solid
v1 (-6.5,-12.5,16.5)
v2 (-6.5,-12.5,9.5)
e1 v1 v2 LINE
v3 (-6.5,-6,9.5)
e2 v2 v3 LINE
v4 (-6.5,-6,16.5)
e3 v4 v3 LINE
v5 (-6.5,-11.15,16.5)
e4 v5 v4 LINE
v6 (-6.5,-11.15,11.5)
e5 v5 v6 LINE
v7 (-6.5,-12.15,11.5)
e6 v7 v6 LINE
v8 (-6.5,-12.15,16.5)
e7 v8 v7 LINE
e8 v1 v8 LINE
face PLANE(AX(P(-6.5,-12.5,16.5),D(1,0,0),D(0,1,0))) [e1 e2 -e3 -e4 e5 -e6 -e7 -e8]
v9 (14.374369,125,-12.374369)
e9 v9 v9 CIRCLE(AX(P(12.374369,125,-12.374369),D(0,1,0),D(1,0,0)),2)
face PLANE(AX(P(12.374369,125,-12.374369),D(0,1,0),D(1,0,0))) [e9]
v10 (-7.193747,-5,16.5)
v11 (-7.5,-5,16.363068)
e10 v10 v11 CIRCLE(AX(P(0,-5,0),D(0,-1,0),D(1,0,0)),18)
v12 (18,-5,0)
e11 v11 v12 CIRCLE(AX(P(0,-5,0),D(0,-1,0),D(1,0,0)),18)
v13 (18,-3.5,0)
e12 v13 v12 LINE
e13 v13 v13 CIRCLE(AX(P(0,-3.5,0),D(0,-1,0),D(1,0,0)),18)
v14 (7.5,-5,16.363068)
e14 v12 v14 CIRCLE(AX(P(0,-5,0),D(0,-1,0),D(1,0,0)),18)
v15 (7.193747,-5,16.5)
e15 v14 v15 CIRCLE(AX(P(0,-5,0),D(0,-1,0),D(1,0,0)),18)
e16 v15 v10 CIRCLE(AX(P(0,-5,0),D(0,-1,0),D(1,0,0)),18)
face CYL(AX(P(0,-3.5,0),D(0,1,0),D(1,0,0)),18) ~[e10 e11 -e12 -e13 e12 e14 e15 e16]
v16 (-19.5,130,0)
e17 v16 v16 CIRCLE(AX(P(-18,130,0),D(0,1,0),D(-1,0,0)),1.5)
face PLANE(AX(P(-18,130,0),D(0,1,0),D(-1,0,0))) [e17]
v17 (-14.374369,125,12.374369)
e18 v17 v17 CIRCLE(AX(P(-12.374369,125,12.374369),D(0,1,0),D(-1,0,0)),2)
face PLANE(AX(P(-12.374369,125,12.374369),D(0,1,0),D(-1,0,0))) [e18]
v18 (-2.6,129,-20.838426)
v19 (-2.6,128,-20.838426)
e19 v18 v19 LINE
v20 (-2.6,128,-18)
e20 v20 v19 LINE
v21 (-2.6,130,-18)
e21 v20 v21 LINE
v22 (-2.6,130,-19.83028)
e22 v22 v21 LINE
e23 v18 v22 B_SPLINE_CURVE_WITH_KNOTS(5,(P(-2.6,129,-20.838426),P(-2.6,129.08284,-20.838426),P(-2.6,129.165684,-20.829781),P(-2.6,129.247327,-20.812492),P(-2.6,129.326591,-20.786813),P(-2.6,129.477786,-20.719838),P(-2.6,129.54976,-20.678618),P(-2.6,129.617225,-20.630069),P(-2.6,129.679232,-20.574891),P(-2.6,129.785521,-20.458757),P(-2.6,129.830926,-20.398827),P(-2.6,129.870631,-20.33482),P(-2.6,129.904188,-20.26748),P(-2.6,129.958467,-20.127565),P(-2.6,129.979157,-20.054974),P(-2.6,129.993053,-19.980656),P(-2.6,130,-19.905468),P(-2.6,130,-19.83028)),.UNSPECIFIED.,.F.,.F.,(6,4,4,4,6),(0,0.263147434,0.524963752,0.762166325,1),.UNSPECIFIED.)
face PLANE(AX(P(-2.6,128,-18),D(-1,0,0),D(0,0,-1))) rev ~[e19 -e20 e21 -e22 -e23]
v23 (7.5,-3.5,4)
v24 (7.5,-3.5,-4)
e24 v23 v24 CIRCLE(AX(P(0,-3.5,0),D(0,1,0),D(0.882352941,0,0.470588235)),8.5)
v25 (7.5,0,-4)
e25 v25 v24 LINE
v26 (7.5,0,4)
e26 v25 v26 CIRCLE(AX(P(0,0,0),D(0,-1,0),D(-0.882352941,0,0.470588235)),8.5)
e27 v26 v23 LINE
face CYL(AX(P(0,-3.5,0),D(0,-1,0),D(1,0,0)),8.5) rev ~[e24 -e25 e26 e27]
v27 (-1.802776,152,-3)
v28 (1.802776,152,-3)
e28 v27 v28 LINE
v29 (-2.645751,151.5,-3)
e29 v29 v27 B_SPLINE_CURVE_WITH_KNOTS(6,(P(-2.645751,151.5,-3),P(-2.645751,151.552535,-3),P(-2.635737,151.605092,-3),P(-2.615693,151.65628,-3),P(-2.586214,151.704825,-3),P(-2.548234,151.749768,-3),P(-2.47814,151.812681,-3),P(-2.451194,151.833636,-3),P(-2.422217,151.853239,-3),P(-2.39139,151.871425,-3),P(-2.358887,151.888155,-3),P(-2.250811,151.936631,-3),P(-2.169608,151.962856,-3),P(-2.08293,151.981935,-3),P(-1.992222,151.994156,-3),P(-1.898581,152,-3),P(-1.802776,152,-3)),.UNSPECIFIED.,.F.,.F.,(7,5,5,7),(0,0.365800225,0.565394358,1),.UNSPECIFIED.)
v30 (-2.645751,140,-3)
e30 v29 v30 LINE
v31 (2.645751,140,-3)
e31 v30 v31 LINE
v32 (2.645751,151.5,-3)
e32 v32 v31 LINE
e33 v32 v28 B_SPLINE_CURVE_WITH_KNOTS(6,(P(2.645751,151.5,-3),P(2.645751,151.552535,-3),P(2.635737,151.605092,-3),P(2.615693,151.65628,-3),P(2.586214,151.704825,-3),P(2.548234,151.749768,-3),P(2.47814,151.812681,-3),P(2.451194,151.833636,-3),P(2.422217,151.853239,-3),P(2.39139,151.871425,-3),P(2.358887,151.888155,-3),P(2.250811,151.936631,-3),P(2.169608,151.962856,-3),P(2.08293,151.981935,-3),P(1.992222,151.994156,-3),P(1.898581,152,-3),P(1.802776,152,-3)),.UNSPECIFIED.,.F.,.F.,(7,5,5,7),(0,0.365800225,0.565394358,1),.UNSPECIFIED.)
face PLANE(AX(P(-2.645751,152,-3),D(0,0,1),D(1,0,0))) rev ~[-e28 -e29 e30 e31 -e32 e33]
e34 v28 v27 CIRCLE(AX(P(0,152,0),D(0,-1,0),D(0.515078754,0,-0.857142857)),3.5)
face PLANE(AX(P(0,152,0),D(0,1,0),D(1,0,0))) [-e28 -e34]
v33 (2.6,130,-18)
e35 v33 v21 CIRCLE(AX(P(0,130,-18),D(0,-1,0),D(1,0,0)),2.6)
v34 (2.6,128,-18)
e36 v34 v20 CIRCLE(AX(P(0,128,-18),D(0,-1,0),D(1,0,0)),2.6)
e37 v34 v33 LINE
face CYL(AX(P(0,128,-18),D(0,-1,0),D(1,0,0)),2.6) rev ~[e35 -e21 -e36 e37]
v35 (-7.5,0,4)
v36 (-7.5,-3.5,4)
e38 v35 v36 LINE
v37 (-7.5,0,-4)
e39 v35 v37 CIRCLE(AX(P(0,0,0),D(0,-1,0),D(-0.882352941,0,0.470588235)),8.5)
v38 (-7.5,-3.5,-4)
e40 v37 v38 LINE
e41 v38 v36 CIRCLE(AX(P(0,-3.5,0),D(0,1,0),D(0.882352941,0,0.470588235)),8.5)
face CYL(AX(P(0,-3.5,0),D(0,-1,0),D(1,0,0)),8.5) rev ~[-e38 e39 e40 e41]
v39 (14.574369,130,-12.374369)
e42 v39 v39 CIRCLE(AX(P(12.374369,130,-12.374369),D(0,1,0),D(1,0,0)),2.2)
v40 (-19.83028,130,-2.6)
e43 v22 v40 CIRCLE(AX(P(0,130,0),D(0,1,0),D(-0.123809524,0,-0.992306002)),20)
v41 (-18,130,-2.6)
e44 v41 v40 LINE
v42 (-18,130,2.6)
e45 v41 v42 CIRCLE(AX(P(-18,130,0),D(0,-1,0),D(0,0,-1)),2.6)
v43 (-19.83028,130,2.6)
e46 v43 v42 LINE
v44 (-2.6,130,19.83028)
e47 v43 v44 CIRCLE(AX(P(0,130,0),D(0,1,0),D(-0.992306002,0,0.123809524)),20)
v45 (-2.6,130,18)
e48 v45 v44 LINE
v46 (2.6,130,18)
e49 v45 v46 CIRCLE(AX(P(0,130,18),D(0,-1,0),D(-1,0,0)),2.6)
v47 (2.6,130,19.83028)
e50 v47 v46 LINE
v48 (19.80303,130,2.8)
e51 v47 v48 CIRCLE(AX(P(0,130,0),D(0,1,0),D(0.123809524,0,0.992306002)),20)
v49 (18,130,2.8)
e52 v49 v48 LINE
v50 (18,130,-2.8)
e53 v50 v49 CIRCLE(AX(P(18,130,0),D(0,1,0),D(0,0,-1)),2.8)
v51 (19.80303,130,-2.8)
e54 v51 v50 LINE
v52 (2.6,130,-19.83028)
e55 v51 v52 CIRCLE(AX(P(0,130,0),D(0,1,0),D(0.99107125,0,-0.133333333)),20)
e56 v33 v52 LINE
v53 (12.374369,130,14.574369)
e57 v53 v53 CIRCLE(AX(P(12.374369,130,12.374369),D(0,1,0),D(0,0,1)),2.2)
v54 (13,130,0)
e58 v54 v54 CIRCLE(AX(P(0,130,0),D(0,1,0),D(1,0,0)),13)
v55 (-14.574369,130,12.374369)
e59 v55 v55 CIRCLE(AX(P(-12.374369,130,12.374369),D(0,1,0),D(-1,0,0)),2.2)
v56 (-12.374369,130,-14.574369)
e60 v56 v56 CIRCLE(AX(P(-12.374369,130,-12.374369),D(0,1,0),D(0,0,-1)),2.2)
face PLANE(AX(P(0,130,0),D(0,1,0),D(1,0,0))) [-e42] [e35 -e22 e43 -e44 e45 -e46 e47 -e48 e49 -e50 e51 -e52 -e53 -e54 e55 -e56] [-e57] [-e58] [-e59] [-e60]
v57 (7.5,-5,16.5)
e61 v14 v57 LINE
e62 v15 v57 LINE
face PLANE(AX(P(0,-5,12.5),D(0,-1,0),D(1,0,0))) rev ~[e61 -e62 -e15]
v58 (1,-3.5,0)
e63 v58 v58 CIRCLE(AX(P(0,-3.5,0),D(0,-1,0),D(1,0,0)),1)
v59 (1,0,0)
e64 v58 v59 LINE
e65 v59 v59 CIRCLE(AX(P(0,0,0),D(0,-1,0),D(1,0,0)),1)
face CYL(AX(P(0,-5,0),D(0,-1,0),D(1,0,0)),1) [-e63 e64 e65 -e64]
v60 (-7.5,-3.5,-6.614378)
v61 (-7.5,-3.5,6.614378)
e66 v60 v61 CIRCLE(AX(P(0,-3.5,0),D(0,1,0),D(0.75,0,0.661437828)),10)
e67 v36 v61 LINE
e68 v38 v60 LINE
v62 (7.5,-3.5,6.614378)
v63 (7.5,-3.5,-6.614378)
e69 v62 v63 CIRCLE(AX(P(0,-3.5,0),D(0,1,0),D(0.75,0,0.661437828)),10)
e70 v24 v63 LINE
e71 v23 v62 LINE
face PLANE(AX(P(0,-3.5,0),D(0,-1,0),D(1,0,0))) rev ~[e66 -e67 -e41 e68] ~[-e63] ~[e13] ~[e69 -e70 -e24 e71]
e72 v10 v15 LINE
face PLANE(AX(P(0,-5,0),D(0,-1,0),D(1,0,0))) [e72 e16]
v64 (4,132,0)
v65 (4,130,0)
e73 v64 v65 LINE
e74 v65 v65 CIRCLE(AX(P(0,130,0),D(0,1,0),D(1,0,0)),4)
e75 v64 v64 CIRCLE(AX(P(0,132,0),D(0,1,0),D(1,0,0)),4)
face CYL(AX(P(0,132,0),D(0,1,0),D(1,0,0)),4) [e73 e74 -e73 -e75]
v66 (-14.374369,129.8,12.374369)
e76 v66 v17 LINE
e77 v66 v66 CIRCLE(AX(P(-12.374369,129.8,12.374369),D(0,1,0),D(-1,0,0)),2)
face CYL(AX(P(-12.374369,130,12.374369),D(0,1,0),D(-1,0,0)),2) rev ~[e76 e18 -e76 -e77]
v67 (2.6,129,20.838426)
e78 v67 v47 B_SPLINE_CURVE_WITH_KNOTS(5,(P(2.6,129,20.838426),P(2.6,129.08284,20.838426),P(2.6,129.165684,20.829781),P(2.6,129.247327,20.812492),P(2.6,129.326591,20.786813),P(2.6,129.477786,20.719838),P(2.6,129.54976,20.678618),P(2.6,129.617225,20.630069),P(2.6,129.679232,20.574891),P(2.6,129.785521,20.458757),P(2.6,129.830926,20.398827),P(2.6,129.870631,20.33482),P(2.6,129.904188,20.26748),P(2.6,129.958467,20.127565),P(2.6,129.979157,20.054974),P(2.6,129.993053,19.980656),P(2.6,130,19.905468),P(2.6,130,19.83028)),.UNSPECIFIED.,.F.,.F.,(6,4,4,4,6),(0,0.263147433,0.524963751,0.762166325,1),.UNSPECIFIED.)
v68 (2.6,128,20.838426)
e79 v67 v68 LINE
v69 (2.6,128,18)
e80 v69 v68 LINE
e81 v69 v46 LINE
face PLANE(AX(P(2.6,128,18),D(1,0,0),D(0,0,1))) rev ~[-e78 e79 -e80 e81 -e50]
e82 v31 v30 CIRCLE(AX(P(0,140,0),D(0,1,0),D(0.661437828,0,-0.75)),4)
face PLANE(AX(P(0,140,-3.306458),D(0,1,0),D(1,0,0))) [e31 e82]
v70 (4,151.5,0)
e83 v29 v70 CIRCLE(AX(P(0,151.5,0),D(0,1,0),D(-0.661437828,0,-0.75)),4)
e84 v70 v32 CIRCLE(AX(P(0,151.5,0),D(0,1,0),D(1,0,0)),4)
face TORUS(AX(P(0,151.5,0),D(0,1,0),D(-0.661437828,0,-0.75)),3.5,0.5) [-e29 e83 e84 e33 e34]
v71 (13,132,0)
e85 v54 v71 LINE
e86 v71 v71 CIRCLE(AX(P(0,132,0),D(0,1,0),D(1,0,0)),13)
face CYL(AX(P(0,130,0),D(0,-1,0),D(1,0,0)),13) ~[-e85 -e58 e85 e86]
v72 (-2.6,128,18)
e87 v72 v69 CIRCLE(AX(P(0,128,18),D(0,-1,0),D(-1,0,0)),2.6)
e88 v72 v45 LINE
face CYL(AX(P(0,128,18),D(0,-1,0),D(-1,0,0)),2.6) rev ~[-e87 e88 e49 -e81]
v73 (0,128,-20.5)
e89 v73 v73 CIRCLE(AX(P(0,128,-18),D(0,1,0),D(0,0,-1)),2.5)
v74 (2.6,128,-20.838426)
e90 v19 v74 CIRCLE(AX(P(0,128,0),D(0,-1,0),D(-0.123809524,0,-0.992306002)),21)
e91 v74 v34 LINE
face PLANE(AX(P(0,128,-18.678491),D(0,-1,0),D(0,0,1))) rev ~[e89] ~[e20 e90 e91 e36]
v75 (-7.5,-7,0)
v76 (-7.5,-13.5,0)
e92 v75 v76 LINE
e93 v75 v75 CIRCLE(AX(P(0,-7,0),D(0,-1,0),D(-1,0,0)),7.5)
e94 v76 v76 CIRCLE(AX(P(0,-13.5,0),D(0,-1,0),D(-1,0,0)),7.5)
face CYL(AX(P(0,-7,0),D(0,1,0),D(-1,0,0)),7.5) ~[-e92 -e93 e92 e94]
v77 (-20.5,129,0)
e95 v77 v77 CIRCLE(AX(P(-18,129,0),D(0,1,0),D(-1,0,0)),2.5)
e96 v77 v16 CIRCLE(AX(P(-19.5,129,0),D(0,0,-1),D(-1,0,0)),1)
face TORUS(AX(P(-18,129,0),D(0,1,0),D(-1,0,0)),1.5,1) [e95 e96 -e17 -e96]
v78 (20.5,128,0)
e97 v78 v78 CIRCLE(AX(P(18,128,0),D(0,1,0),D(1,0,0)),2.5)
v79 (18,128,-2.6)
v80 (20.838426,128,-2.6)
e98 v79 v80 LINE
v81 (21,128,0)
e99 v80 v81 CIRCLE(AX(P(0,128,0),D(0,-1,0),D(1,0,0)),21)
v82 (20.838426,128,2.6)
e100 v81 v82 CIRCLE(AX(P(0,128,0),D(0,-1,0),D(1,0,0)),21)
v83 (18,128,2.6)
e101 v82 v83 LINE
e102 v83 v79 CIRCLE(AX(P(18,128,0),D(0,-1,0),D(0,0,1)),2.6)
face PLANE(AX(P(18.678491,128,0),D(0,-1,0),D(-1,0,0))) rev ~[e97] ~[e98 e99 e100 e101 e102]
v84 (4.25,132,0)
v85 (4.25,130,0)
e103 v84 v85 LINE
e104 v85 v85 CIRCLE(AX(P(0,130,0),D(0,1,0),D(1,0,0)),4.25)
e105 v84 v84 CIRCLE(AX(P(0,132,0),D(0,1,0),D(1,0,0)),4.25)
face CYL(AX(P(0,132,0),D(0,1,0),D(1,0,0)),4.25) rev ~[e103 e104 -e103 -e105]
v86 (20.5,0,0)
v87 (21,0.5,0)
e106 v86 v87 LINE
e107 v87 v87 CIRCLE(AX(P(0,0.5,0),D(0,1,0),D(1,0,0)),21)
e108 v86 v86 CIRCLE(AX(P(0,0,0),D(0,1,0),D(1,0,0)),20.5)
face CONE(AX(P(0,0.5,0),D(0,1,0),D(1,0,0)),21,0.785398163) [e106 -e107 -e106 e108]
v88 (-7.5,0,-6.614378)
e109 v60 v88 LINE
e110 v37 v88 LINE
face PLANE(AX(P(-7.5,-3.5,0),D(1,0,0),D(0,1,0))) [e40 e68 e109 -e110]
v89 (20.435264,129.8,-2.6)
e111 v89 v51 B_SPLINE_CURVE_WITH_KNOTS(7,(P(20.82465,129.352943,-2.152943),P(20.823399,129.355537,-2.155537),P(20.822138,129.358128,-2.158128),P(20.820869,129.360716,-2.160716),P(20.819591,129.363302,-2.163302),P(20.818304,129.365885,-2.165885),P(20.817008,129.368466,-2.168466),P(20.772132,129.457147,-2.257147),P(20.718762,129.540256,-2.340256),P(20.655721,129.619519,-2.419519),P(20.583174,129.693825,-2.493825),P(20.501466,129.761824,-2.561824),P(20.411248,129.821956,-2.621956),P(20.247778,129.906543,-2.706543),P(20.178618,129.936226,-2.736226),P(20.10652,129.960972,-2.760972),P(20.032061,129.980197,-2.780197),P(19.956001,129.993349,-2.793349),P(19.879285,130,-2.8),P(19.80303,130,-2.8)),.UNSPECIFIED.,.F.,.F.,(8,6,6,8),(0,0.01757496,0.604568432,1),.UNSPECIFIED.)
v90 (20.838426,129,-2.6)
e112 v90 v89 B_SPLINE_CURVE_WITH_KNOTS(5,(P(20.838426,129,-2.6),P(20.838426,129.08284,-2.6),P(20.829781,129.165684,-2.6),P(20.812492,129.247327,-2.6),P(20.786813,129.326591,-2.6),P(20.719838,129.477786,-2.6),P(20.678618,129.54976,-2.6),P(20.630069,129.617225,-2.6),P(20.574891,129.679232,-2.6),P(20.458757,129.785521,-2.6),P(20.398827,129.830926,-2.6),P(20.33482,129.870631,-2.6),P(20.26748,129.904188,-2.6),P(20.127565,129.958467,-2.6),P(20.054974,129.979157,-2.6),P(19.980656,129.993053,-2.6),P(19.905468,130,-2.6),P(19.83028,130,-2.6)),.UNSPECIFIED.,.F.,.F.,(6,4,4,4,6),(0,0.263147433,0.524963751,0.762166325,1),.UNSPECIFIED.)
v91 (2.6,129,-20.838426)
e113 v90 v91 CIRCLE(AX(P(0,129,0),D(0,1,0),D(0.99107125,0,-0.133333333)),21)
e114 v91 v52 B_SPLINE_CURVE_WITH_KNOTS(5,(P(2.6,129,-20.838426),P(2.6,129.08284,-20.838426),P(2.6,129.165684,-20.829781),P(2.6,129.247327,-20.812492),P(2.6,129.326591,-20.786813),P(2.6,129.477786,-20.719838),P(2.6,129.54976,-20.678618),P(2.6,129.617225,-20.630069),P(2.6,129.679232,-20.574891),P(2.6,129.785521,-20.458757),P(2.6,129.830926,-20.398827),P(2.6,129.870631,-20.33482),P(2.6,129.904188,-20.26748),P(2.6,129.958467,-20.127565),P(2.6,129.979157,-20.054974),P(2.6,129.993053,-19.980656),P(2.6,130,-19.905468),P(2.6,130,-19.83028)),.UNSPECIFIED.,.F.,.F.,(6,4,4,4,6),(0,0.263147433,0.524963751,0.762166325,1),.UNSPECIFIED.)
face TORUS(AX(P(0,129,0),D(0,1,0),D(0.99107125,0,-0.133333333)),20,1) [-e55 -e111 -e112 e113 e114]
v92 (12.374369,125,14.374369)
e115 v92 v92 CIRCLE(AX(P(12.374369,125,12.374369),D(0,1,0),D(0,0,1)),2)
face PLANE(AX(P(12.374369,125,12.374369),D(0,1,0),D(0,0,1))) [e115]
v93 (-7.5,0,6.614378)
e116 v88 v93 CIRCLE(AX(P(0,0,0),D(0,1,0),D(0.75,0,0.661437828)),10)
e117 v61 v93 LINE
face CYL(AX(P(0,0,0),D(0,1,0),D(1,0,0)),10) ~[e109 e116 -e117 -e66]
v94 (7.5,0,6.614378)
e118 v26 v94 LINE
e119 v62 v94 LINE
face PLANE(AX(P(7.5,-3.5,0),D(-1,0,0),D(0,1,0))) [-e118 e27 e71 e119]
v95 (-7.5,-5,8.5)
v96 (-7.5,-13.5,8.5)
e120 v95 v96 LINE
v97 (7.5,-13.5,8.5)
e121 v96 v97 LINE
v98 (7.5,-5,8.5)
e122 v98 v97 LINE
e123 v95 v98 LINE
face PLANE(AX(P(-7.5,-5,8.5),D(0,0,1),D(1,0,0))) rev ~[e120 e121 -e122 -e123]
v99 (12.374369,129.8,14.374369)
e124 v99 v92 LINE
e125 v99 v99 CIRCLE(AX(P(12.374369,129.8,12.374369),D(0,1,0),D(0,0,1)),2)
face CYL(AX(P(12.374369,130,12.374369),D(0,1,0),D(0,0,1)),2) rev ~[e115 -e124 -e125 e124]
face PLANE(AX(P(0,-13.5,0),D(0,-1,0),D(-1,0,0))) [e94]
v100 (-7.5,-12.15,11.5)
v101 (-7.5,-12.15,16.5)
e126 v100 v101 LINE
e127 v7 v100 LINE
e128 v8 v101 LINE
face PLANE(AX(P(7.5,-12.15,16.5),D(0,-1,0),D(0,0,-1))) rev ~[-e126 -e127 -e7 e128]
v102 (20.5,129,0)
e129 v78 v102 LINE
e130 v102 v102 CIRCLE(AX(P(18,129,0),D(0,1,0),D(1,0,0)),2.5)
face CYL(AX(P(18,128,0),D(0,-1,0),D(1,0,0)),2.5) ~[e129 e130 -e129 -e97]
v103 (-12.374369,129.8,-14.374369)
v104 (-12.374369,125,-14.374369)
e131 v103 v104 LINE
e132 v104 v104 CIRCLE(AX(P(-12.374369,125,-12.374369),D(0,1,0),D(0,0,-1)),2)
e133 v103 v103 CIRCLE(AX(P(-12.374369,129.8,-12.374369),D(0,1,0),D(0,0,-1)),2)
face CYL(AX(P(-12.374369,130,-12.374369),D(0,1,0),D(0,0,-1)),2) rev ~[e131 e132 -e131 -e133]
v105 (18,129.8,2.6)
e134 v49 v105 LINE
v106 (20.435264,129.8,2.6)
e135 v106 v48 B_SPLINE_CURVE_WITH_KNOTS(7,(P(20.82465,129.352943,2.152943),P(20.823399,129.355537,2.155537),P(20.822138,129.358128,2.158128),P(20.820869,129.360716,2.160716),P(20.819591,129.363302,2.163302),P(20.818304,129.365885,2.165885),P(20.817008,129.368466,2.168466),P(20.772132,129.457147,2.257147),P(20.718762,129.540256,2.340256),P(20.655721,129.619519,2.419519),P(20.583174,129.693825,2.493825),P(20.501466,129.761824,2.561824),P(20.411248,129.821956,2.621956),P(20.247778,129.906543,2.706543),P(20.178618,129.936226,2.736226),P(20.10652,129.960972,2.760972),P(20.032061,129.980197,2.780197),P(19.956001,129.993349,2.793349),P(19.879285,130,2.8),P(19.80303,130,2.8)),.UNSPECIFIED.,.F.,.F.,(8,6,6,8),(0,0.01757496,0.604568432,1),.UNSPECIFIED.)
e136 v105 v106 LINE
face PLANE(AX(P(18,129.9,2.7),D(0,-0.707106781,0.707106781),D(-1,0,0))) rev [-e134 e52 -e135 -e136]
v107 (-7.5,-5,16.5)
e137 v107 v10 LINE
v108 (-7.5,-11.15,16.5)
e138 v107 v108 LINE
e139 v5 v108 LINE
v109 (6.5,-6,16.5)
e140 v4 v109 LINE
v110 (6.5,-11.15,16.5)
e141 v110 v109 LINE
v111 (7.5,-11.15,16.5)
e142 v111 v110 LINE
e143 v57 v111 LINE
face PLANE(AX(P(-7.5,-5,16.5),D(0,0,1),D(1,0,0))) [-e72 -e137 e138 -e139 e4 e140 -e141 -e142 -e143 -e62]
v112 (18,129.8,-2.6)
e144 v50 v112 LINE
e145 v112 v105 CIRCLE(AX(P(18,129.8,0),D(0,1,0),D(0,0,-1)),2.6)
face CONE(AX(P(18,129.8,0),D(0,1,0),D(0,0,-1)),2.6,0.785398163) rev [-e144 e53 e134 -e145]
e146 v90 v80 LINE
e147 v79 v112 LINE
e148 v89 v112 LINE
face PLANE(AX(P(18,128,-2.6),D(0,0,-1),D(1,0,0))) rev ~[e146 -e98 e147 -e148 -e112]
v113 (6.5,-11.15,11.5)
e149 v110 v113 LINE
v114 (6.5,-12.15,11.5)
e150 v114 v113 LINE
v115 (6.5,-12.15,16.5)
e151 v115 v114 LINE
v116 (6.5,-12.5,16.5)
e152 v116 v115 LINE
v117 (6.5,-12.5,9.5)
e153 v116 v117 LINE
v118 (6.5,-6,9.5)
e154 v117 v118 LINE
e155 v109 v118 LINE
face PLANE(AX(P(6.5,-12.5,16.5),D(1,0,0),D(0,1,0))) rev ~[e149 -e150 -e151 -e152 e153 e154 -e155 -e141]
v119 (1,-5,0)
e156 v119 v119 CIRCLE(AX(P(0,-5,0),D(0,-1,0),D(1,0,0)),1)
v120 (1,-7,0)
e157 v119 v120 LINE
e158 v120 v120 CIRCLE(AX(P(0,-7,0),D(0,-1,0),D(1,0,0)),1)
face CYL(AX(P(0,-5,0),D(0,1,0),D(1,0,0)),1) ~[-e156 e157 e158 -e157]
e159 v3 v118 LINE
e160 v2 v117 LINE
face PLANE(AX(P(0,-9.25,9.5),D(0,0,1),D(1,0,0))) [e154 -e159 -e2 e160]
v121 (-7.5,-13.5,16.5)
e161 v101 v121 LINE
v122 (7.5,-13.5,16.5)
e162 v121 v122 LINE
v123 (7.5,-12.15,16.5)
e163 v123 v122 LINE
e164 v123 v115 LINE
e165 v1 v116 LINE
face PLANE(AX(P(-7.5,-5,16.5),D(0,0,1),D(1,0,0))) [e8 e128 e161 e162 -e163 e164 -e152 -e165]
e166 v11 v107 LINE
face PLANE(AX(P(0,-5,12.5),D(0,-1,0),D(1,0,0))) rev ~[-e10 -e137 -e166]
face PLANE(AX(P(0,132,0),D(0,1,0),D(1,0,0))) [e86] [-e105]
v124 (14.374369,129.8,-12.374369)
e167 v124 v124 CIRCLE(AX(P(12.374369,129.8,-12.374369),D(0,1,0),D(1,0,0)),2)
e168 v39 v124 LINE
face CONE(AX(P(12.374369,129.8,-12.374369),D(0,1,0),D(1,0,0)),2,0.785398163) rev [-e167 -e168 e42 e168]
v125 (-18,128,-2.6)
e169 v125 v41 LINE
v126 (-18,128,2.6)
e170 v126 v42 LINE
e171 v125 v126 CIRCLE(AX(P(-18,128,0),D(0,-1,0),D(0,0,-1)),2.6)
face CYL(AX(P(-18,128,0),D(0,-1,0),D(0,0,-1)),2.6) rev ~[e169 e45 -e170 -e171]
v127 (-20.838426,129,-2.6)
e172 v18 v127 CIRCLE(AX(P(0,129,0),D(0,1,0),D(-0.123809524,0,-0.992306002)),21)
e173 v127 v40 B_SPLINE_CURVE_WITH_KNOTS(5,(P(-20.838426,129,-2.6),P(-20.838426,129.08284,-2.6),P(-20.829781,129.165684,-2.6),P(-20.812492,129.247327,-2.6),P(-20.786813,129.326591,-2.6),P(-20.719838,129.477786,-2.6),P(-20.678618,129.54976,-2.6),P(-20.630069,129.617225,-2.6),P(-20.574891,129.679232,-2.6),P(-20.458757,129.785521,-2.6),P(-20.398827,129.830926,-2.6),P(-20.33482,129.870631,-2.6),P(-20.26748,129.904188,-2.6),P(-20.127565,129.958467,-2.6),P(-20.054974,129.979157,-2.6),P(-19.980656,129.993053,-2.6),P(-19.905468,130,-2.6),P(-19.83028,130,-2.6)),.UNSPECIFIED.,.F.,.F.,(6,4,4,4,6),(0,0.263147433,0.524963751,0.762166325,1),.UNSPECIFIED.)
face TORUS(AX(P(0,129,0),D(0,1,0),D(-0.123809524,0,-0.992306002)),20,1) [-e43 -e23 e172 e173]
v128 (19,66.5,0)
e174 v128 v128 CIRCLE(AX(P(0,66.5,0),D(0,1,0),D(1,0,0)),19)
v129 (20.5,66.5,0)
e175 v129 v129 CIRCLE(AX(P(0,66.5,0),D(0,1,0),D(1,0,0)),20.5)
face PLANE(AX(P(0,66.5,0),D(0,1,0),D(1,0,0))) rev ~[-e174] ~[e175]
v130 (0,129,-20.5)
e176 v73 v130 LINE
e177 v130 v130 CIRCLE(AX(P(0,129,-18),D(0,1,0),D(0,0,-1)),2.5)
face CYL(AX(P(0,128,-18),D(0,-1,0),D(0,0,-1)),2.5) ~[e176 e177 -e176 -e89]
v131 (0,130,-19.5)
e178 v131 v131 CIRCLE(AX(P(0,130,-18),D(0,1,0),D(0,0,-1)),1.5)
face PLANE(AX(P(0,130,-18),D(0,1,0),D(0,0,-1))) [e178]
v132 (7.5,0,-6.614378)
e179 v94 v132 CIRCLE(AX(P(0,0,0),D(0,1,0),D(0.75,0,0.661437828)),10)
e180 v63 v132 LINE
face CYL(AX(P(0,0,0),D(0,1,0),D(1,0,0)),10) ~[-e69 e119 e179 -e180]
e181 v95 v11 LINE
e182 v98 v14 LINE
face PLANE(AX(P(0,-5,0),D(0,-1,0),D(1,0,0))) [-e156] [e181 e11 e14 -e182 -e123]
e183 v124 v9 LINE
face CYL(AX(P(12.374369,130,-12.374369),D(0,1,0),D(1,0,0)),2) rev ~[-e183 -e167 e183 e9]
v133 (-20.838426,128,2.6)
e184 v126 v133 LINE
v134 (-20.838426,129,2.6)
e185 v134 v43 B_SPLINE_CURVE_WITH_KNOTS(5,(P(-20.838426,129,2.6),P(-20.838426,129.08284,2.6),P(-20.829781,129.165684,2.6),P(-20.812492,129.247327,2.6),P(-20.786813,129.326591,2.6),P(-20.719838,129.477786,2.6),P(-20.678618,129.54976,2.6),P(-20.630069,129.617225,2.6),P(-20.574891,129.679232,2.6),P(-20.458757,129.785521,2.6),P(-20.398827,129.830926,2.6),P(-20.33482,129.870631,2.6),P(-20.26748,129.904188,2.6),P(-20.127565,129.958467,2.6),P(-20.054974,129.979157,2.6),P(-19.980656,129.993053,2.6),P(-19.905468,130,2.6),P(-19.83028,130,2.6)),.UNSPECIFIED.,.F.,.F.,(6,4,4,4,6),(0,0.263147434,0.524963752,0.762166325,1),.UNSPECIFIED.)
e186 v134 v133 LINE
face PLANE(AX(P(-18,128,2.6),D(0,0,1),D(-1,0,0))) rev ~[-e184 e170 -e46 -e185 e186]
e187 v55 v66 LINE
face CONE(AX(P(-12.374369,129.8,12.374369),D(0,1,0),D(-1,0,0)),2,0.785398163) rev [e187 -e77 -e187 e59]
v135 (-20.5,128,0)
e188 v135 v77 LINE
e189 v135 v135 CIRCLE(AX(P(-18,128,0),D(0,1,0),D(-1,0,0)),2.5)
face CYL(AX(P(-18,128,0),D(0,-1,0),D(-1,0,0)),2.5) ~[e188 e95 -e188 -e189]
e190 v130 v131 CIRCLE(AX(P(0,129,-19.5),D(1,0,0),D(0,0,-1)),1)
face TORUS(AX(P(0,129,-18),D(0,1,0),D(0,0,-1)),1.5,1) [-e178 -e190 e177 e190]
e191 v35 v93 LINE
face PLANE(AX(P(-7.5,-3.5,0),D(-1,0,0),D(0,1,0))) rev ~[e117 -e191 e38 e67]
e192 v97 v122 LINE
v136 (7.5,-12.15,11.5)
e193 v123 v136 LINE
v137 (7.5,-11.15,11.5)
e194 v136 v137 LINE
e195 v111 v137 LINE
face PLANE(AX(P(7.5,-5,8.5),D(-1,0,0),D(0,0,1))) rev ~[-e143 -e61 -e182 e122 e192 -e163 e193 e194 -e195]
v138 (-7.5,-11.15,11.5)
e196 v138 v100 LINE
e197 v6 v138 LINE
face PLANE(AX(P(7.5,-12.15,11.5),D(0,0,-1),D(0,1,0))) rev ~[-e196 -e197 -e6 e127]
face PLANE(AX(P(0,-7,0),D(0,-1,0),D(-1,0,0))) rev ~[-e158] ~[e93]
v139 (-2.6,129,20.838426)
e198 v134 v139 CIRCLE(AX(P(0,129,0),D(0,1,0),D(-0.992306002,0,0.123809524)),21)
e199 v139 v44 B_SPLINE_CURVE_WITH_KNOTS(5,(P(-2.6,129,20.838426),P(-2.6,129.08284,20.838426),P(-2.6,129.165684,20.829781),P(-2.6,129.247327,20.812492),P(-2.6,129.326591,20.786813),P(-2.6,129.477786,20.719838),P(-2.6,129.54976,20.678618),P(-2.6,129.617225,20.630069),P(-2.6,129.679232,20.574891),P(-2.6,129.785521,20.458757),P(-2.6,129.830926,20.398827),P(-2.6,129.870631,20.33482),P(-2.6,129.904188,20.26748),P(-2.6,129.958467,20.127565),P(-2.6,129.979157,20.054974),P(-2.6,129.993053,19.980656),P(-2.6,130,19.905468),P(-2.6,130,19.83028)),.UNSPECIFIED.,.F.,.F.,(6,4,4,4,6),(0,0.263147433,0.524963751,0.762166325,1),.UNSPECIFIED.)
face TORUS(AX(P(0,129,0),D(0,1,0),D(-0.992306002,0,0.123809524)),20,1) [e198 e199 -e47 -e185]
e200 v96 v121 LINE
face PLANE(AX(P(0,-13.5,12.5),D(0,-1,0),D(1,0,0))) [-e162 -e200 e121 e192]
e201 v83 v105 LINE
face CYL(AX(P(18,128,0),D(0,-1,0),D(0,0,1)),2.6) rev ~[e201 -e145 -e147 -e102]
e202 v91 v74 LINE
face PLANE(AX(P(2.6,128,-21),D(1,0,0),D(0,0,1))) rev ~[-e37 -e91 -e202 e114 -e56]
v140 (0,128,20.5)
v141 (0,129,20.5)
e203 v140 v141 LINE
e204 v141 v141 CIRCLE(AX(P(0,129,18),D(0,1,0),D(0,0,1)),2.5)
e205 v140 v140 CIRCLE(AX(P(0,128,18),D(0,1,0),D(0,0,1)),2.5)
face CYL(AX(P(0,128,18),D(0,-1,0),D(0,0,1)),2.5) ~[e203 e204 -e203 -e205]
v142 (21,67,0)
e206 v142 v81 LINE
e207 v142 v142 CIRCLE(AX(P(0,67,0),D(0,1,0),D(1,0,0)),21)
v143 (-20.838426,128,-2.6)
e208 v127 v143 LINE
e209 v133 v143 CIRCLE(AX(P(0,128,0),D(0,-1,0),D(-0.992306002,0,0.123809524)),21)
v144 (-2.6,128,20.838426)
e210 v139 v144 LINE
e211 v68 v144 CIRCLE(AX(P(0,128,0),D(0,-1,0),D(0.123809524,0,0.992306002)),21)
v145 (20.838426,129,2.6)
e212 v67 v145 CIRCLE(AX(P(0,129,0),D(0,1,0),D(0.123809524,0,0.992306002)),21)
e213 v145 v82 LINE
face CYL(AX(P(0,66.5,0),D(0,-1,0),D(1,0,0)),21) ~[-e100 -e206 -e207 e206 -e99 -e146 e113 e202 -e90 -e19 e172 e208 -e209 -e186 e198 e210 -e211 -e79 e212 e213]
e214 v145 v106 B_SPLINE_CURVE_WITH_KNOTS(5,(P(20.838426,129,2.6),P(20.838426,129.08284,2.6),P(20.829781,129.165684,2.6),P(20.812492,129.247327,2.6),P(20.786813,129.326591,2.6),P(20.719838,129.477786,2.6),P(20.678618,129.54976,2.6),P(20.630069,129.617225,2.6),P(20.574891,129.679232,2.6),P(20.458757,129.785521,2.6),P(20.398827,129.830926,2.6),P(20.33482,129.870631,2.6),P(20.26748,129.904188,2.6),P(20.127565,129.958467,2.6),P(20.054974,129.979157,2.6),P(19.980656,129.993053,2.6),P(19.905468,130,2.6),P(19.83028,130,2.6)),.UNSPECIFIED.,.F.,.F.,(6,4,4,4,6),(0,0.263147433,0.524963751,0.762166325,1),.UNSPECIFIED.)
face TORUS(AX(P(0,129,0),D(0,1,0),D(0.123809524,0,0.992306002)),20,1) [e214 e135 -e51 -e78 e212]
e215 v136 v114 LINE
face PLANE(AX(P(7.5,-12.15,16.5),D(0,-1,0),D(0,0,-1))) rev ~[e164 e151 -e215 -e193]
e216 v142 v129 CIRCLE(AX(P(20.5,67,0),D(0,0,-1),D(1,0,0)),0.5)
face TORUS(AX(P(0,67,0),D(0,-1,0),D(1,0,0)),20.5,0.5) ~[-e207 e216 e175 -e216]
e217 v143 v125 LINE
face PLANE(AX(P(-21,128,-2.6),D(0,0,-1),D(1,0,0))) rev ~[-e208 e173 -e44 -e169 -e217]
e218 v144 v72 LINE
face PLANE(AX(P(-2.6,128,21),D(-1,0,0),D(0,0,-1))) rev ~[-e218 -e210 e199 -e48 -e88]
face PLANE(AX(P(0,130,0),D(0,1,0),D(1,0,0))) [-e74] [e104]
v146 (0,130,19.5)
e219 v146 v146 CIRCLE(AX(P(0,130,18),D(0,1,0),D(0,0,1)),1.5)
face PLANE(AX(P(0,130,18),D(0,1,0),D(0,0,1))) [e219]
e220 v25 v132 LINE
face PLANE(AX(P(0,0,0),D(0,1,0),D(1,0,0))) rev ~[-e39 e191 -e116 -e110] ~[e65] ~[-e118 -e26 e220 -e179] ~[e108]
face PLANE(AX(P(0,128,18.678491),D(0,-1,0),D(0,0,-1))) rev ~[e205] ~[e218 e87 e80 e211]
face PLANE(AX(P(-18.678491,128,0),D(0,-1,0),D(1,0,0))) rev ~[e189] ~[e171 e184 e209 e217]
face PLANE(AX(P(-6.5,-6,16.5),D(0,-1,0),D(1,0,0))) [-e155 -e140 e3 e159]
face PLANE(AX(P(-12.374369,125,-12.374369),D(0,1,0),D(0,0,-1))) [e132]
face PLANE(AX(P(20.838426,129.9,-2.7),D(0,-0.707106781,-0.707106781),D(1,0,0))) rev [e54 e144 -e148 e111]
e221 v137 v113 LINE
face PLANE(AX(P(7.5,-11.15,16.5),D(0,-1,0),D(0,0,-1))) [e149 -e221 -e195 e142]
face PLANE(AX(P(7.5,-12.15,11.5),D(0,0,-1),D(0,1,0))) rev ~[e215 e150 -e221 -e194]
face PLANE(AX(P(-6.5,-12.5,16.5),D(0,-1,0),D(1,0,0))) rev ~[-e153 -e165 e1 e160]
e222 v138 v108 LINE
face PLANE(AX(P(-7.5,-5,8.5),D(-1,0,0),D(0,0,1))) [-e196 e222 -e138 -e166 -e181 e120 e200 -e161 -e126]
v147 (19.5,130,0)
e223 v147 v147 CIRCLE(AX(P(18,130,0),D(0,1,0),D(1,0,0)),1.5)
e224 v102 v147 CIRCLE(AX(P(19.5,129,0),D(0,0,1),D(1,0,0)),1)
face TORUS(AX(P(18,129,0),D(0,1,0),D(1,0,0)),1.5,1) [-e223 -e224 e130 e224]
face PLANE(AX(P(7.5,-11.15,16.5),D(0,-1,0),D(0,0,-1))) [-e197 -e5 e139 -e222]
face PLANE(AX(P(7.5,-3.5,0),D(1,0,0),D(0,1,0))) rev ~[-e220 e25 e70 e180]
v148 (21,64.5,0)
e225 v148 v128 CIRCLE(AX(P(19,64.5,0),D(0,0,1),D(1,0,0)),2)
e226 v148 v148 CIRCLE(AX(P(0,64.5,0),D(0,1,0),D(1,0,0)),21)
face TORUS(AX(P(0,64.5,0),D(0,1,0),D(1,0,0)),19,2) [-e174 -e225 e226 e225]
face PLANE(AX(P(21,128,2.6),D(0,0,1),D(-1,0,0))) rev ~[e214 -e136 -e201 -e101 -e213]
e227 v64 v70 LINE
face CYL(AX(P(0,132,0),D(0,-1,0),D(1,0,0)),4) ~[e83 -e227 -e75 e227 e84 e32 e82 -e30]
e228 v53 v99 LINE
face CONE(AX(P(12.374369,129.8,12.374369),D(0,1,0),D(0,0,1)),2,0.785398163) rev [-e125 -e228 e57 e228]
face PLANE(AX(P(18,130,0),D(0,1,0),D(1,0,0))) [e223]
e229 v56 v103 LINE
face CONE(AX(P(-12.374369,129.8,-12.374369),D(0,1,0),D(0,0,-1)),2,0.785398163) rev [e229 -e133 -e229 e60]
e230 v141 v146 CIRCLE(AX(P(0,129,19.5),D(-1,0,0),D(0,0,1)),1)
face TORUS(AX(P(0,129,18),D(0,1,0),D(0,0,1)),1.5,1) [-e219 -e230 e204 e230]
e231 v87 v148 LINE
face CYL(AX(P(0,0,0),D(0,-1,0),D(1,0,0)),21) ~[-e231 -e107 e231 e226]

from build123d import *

# Parameters (mm, degrees)
SKETCH_1_R                           = 21
EXTRUDE_1_DEPTH                      = 66.5
FILLET_1_R                           = 2
SKETCH_4_R                           = 21
EXTRUDE_2_DEPTH                      = 63.5
SKETCH_6_R                           = 13
EXTRUDE_3_DEPTH                      = 2
SKETCH_7_R                           = 4
EXTRUDE_4_DEPTH                      = 20
CUT_EXTRUDE_3_DEPTH                  = 12
FILLET_2_R                           = 0.5
FILLET_4_R                           = 0.5
CUT_EXTRUDE_START                    = -2
CUT_EXTRUDE_4_DEPTH                  = 25.0000001
CHAMFER_1_SIZE                       = 0.2
SKETCH_11_R                          = 2.5
EXTRUDE_5_DEPTH                      = 2
FILLET_5_R                           = 1
SKETCH_10_R                          = 2
CUT_EXTRUDE_5_DEPTH                  = 5
CHAMFER_2_SIZE                       = 0.2
PATTERN_CIRCULAR_3_COUNT             = 4
FILLET_5_OF_PATTERN_CIRCULAR_3_R     = 1
CHAMFER_2_OF_PATTERN_CIRCULAR_3_SIZE = 0.2
SKETCH_13_R                          = 10
EXTRUDE_6_DEPTH                      = 3.5
SKETCH_14_R                          = 8.5
CUT_EXTRUDE_7_DEPTH                  = 3.5
SKETCH_15_W                          = 15
SKETCH_15_H                          = 3.5
CUT_EXTRUDE_8_DEPTH                  = 22.0000001
CUT_EXTRUDE_8_DEPTH_BACK             = 22.0000001
EXTRUDE_START                        = 3.5
SKETCH_16_R                          = 18
EXTRUDE_7_DEPTH                      = 1.5
SKETCH_17_R                          = 1
EXTRUDE_8_DEPTH                      = 2
EXTRUDE_8_DEPTH_BACK                 = 5
SKETCH_18_R                          = 7.5
EXTRUDE_9_DEPTH                      = 6.5
SKETCH_19_R                          = 4.25
SKETCH_19_R_2                        = 4
CUT_EXTRUDE_9_DEPTH                  = 2
CHAMFER_4_SIZE                       = 0.5
SKETCH_20_W                          = 15
SKETCH_20_H                          = 8
EXTRUDE_10_DEPTH                     = 8.5
SKETCH_21_W                          = 13
SKETCH_21_H                          = 6.5
CUT_EXTRUDE_10_DEPTH                 = 7
SKETCH_22_W                          = 5
SKETCH_22_H                          = 1
CUT_EXTRUDE_11_DEPTH                 = 29.5000001
FILLET_7_R                           = 1


with BuildPart() as part:
    # 草圖1 → 填料-伸長1 (new body)
    with BuildSketch(Plane(origin=(0, 0, 0), x_dir=(1, 0, 0), z_dir=(0, 1, 0))):
        Circle(SKETCH_1_R)
    extrude(amount=EXTRUDE_1_DEPTH)

    # 圓角1
    fillet_1_edges = [part.edges().sort_by_distance(p)[0] for p in [
        (-21, 66.5, 0),
    ]]
    fillet(fillet_1_edges, radius=FILLET_1_R)

    # 草圖4 → 填料-伸長2 (add)
    with BuildSketch(Plane(origin=(0, 66.5, 0), x_dir=(1, 0, 0), z_dir=(0, 1, 0))):
        Circle(SKETCH_4_R)
    extrude(amount=EXTRUDE_2_DEPTH)

    # 草圖6 → 填料-伸長3 (add)
    with BuildSketch(Plane(origin=(0, 130, 0), x_dir=(1, 0, 0), z_dir=(0, 1, 0))):
        Circle(SKETCH_6_R)
    extrude(amount=EXTRUDE_3_DEPTH)

    # 草圖7 → 填料-伸長4 (add)
    with BuildSketch(Plane(origin=(0, 132, 0), x_dir=(1, 0, 0), z_dir=(0, 1, 0))):
        Circle(SKETCH_7_R)
    extrude(amount=EXTRUDE_4_DEPTH)

    # 草圖8 → 除料-伸長3 (cut)
    with BuildSketch(Plane(origin=(0, 152, 0), x_dir=(1, 0, 0), z_dir=(0, 1, 0))):
        with BuildLine():
            Line((-2.645751311, 3), (2.645751311, 3))
            ThreePointArc((2.645751311, 3), (0, 4), (-2.645751311, 3))
        make_face()
    extrude(amount=-CUT_EXTRUDE_3_DEPTH, mode=Mode.SUBTRACT)

    # 圓角2
    fillet_2_edges = [part.edges().sort_by_distance(p)[0] for p in [
        (-21, 66.5, 0),
    ]]
    fillet(fillet_2_edges, radius=FILLET_2_R)

    # 圓角4
    fillet_4_edges = [part.edges().sort_by_distance(p)[0] for p in [
        (-1.645751311, 152, 3.645751311),
    ]]
    fillet(fillet_4_edges, radius=FILLET_4_R)

    # 草圖9 → 除料-伸長4 (cut)
    with BuildSketch(Plane(origin=(0, 130, 0), x_dir=(1, 0, 0), z_dir=(0, 1, 0)).offset(CUT_EXTRUDE_START)):
        with BuildLine():
            Line((18, 2.6), (21, 2.6))
            Line((21, 2.6), (21, -2.6))
            Line((21, -2.6), (18, -2.6))
            ThreePointArc((18, -2.6), (15.4, 0), (18, 2.6))
        make_face()
    cut_extrude_4 = extrude(amount=CUT_EXTRUDE_4_DEPTH, mode=Mode.SUBTRACT)

    # 導角1
    chamfer_1_edges = [part.edges().sort_by_distance(p)[0] for p in [
        (19.419213022, 130, -2.6),
        (15.4, 130, 0),
        (19.419213022, 130, 2.6),
    ]]
    chamfer(chamfer_1_edges, length=CHAMFER_1_SIZE)

    # 草圖11 → 填料-伸長5 (add)
    with BuildSketch(Plane(origin=(0, 128, 0), x_dir=(1, 0, 0), z_dir=(0, 1, 0))):
        with Locations((18, 0)):
            Circle(SKETCH_11_R)
    extrude_5 = extrude(amount=EXTRUDE_5_DEPTH)

    # 圓角5
    fillet_5_edges = [part.edges().sort_by_distance(p)[0] for p in [
        (15.5, 130, 0),
    ]]
    fillet(fillet_5_edges, radius=FILLET_5_R)

    # 草圖10 → 除料-伸長5 (cut)
    with BuildSketch(Plane(origin=(0, 130, 0), x_dir=(1, 0, 0), z_dir=(0, 1, 0))):
        with Locations((12.374368671, 12.374368671)):
            Circle(SKETCH_10_R)
    cut_extrude_5 = extrude(amount=-CUT_EXTRUDE_5_DEPTH, mode=Mode.SUBTRACT)

    # 導角2
    chamfer_2_edges = [part.edges().sort_by_distance(p)[0] for p in [
        (10.374368671, 130, -12.374368671),
    ]]
    chamfer(chamfer_2_edges, length=CHAMFER_2_SIZE)

    # 環狀複製排列3: 除料-伸長4, 填料-伸長5, 除料-伸長5 ×4 about axis
    pattern_circular_3_axis = Axis((0, 0, 0), (0, 1, 0))
    for i in range(1, PATTERN_CIRCULAR_3_COUNT):
        add(cut_extrude_4.rotate(pattern_circular_3_axis, i * 360 / PATTERN_CIRCULAR_3_COUNT), mode=Mode.SUBTRACT)
        add(extrude_5.rotate(pattern_circular_3_axis, i * 360 / PATTERN_CIRCULAR_3_COUNT))
        add(cut_extrude_5.rotate(pattern_circular_3_axis, i * 360 / PATTERN_CIRCULAR_3_COUNT), mode=Mode.SUBTRACT)

    # 圓角5 of 環狀複製排列3
    fillet_5_of_pattern_circular_3_edges = [part.edges().sort_by_distance(p)[0] for p in [
        (0, 130, -15.5),
        (-15.5, 130, 0),
        (0, 130, 15.5),
    ]]
    fillet(fillet_5_of_pattern_circular_3_edges, radius=FILLET_5_OF_PATTERN_CIRCULAR_3_R)

    # 導角2 of 環狀複製排列3
    chamfer_2_of_pattern_circular_3_edges = [part.edges().sort_by_distance(p)[0] for p in [
        (-12.374368671, 130, -10.374368671),
        (-10.374368671, 130, 12.374368671),
        (12.374368671, 130, 10.374368671),
    ]]
    chamfer(chamfer_2_of_pattern_circular_3_edges, length=CHAMFER_2_OF_PATTERN_CIRCULAR_3_SIZE)

    # 草圖13 → 填料-伸長6 (add)
    with BuildSketch(Plane.XZ):
        Circle(SKETCH_13_R)
    extrude(amount=EXTRUDE_6_DEPTH)

    # 草圖14 → 除料-伸長7 (cut)
    with BuildSketch(Plane.XZ.offset(3.5)):
        Circle(SKETCH_14_R)
    extrude(amount=-CUT_EXTRUDE_7_DEPTH, mode=Mode.SUBTRACT)

    # 草圖15 → 除料-伸長8 (cut, two sides)
    with BuildSketch(Plane.XY) as cut_extrude_8_sk:
        with Locations((0, -1.75)):
            Rectangle(SKETCH_15_W, SKETCH_15_H)
    extrude(amount=CUT_EXTRUDE_8_DEPTH, mode=Mode.SUBTRACT)
    extrude(cut_extrude_8_sk.sketch, amount=-CUT_EXTRUDE_8_DEPTH_BACK, mode=Mode.SUBTRACT)

    # 草圖16 → 填料-伸長7 (add)
    with BuildSketch(Plane.XZ.offset(EXTRUDE_START)):
        Circle(SKETCH_16_R)
    extrude(amount=EXTRUDE_7_DEPTH)

    # 草圖17 → 填料-伸長8 (add, two sides)
    with BuildSketch(Plane.XZ.offset(5)) as extrude_8_sk:
        Circle(SKETCH_17_R)
    extrude(amount=EXTRUDE_8_DEPTH)
    extrude(extrude_8_sk.sketch, amount=-EXTRUDE_8_DEPTH_BACK)

    # 草圖18 → 填料-伸長9 (add)
    with BuildSketch(Plane(origin=(0, -7, 0), x_dir=(-1, 0, 0), z_dir=(0, -1, 0))):
        Circle(SKETCH_18_R)
    extrude(amount=EXTRUDE_9_DEPTH)

    # 草圖19 → 除料-伸長9 (cut)
    with BuildSketch(Plane(origin=(0, 132, 0), x_dir=(1, 0, 0), z_dir=(0, 1, 0))):
        Circle(SKETCH_19_R)
        Circle(SKETCH_19_R_2, mode=Mode.SUBTRACT)
    extrude(amount=-CUT_EXTRUDE_9_DEPTH, mode=Mode.SUBTRACT)

    # 導角4
    chamfer_4_edges = [part.edges().sort_by_distance(p)[0] for p in [
        (-21, 0, 0),
    ]]
    chamfer(chamfer_4_edges, length=CHAMFER_4_SIZE)

    # 草圖20 → 填料-伸長10 (add)
    with BuildSketch(Plane.XZ.offset(5)):
        with Locations((0, 12.5)):
            Rectangle(SKETCH_20_W, SKETCH_20_H)
    extrude(amount=EXTRUDE_10_DEPTH)

    # 草圖21 → 除料-伸長10 (cut)
    with BuildSketch(Plane.XY.offset(16.5)):
        with Locations((0, -9.25)):
            Rectangle(SKETCH_21_W, SKETCH_21_H)
    extrude(amount=-CUT_EXTRUDE_10_DEPTH, mode=Mode.SUBTRACT)

    # 草圖22 → 除料-伸長11 (cut, through all)
    with BuildSketch(Plane(origin=(7.5, 0, 0), x_dir=(0, 0, -1), z_dir=(1, 0, 0))):
        with Locations((-14, -11.65)):
            Rectangle(SKETCH_22_W, SKETCH_22_H)
    extrude(amount=-CUT_EXTRUDE_11_DEPTH, mode=Mode.SUBTRACT)

    # 圓角7
    fillet_7_edges = [part.edges().sort_by_distance(p)[0] for p in [
        (14.777768731, 130, -14.9203737),
        (-14.849242405, 130, 14.849242405),
        (14.777768731, 130, 14.9203737),
        (-14.849242405, 130, -14.849242405),
    ]]
    fillet(fillet_7_edges, radius=FILLET_7_R)


solid = part.part
